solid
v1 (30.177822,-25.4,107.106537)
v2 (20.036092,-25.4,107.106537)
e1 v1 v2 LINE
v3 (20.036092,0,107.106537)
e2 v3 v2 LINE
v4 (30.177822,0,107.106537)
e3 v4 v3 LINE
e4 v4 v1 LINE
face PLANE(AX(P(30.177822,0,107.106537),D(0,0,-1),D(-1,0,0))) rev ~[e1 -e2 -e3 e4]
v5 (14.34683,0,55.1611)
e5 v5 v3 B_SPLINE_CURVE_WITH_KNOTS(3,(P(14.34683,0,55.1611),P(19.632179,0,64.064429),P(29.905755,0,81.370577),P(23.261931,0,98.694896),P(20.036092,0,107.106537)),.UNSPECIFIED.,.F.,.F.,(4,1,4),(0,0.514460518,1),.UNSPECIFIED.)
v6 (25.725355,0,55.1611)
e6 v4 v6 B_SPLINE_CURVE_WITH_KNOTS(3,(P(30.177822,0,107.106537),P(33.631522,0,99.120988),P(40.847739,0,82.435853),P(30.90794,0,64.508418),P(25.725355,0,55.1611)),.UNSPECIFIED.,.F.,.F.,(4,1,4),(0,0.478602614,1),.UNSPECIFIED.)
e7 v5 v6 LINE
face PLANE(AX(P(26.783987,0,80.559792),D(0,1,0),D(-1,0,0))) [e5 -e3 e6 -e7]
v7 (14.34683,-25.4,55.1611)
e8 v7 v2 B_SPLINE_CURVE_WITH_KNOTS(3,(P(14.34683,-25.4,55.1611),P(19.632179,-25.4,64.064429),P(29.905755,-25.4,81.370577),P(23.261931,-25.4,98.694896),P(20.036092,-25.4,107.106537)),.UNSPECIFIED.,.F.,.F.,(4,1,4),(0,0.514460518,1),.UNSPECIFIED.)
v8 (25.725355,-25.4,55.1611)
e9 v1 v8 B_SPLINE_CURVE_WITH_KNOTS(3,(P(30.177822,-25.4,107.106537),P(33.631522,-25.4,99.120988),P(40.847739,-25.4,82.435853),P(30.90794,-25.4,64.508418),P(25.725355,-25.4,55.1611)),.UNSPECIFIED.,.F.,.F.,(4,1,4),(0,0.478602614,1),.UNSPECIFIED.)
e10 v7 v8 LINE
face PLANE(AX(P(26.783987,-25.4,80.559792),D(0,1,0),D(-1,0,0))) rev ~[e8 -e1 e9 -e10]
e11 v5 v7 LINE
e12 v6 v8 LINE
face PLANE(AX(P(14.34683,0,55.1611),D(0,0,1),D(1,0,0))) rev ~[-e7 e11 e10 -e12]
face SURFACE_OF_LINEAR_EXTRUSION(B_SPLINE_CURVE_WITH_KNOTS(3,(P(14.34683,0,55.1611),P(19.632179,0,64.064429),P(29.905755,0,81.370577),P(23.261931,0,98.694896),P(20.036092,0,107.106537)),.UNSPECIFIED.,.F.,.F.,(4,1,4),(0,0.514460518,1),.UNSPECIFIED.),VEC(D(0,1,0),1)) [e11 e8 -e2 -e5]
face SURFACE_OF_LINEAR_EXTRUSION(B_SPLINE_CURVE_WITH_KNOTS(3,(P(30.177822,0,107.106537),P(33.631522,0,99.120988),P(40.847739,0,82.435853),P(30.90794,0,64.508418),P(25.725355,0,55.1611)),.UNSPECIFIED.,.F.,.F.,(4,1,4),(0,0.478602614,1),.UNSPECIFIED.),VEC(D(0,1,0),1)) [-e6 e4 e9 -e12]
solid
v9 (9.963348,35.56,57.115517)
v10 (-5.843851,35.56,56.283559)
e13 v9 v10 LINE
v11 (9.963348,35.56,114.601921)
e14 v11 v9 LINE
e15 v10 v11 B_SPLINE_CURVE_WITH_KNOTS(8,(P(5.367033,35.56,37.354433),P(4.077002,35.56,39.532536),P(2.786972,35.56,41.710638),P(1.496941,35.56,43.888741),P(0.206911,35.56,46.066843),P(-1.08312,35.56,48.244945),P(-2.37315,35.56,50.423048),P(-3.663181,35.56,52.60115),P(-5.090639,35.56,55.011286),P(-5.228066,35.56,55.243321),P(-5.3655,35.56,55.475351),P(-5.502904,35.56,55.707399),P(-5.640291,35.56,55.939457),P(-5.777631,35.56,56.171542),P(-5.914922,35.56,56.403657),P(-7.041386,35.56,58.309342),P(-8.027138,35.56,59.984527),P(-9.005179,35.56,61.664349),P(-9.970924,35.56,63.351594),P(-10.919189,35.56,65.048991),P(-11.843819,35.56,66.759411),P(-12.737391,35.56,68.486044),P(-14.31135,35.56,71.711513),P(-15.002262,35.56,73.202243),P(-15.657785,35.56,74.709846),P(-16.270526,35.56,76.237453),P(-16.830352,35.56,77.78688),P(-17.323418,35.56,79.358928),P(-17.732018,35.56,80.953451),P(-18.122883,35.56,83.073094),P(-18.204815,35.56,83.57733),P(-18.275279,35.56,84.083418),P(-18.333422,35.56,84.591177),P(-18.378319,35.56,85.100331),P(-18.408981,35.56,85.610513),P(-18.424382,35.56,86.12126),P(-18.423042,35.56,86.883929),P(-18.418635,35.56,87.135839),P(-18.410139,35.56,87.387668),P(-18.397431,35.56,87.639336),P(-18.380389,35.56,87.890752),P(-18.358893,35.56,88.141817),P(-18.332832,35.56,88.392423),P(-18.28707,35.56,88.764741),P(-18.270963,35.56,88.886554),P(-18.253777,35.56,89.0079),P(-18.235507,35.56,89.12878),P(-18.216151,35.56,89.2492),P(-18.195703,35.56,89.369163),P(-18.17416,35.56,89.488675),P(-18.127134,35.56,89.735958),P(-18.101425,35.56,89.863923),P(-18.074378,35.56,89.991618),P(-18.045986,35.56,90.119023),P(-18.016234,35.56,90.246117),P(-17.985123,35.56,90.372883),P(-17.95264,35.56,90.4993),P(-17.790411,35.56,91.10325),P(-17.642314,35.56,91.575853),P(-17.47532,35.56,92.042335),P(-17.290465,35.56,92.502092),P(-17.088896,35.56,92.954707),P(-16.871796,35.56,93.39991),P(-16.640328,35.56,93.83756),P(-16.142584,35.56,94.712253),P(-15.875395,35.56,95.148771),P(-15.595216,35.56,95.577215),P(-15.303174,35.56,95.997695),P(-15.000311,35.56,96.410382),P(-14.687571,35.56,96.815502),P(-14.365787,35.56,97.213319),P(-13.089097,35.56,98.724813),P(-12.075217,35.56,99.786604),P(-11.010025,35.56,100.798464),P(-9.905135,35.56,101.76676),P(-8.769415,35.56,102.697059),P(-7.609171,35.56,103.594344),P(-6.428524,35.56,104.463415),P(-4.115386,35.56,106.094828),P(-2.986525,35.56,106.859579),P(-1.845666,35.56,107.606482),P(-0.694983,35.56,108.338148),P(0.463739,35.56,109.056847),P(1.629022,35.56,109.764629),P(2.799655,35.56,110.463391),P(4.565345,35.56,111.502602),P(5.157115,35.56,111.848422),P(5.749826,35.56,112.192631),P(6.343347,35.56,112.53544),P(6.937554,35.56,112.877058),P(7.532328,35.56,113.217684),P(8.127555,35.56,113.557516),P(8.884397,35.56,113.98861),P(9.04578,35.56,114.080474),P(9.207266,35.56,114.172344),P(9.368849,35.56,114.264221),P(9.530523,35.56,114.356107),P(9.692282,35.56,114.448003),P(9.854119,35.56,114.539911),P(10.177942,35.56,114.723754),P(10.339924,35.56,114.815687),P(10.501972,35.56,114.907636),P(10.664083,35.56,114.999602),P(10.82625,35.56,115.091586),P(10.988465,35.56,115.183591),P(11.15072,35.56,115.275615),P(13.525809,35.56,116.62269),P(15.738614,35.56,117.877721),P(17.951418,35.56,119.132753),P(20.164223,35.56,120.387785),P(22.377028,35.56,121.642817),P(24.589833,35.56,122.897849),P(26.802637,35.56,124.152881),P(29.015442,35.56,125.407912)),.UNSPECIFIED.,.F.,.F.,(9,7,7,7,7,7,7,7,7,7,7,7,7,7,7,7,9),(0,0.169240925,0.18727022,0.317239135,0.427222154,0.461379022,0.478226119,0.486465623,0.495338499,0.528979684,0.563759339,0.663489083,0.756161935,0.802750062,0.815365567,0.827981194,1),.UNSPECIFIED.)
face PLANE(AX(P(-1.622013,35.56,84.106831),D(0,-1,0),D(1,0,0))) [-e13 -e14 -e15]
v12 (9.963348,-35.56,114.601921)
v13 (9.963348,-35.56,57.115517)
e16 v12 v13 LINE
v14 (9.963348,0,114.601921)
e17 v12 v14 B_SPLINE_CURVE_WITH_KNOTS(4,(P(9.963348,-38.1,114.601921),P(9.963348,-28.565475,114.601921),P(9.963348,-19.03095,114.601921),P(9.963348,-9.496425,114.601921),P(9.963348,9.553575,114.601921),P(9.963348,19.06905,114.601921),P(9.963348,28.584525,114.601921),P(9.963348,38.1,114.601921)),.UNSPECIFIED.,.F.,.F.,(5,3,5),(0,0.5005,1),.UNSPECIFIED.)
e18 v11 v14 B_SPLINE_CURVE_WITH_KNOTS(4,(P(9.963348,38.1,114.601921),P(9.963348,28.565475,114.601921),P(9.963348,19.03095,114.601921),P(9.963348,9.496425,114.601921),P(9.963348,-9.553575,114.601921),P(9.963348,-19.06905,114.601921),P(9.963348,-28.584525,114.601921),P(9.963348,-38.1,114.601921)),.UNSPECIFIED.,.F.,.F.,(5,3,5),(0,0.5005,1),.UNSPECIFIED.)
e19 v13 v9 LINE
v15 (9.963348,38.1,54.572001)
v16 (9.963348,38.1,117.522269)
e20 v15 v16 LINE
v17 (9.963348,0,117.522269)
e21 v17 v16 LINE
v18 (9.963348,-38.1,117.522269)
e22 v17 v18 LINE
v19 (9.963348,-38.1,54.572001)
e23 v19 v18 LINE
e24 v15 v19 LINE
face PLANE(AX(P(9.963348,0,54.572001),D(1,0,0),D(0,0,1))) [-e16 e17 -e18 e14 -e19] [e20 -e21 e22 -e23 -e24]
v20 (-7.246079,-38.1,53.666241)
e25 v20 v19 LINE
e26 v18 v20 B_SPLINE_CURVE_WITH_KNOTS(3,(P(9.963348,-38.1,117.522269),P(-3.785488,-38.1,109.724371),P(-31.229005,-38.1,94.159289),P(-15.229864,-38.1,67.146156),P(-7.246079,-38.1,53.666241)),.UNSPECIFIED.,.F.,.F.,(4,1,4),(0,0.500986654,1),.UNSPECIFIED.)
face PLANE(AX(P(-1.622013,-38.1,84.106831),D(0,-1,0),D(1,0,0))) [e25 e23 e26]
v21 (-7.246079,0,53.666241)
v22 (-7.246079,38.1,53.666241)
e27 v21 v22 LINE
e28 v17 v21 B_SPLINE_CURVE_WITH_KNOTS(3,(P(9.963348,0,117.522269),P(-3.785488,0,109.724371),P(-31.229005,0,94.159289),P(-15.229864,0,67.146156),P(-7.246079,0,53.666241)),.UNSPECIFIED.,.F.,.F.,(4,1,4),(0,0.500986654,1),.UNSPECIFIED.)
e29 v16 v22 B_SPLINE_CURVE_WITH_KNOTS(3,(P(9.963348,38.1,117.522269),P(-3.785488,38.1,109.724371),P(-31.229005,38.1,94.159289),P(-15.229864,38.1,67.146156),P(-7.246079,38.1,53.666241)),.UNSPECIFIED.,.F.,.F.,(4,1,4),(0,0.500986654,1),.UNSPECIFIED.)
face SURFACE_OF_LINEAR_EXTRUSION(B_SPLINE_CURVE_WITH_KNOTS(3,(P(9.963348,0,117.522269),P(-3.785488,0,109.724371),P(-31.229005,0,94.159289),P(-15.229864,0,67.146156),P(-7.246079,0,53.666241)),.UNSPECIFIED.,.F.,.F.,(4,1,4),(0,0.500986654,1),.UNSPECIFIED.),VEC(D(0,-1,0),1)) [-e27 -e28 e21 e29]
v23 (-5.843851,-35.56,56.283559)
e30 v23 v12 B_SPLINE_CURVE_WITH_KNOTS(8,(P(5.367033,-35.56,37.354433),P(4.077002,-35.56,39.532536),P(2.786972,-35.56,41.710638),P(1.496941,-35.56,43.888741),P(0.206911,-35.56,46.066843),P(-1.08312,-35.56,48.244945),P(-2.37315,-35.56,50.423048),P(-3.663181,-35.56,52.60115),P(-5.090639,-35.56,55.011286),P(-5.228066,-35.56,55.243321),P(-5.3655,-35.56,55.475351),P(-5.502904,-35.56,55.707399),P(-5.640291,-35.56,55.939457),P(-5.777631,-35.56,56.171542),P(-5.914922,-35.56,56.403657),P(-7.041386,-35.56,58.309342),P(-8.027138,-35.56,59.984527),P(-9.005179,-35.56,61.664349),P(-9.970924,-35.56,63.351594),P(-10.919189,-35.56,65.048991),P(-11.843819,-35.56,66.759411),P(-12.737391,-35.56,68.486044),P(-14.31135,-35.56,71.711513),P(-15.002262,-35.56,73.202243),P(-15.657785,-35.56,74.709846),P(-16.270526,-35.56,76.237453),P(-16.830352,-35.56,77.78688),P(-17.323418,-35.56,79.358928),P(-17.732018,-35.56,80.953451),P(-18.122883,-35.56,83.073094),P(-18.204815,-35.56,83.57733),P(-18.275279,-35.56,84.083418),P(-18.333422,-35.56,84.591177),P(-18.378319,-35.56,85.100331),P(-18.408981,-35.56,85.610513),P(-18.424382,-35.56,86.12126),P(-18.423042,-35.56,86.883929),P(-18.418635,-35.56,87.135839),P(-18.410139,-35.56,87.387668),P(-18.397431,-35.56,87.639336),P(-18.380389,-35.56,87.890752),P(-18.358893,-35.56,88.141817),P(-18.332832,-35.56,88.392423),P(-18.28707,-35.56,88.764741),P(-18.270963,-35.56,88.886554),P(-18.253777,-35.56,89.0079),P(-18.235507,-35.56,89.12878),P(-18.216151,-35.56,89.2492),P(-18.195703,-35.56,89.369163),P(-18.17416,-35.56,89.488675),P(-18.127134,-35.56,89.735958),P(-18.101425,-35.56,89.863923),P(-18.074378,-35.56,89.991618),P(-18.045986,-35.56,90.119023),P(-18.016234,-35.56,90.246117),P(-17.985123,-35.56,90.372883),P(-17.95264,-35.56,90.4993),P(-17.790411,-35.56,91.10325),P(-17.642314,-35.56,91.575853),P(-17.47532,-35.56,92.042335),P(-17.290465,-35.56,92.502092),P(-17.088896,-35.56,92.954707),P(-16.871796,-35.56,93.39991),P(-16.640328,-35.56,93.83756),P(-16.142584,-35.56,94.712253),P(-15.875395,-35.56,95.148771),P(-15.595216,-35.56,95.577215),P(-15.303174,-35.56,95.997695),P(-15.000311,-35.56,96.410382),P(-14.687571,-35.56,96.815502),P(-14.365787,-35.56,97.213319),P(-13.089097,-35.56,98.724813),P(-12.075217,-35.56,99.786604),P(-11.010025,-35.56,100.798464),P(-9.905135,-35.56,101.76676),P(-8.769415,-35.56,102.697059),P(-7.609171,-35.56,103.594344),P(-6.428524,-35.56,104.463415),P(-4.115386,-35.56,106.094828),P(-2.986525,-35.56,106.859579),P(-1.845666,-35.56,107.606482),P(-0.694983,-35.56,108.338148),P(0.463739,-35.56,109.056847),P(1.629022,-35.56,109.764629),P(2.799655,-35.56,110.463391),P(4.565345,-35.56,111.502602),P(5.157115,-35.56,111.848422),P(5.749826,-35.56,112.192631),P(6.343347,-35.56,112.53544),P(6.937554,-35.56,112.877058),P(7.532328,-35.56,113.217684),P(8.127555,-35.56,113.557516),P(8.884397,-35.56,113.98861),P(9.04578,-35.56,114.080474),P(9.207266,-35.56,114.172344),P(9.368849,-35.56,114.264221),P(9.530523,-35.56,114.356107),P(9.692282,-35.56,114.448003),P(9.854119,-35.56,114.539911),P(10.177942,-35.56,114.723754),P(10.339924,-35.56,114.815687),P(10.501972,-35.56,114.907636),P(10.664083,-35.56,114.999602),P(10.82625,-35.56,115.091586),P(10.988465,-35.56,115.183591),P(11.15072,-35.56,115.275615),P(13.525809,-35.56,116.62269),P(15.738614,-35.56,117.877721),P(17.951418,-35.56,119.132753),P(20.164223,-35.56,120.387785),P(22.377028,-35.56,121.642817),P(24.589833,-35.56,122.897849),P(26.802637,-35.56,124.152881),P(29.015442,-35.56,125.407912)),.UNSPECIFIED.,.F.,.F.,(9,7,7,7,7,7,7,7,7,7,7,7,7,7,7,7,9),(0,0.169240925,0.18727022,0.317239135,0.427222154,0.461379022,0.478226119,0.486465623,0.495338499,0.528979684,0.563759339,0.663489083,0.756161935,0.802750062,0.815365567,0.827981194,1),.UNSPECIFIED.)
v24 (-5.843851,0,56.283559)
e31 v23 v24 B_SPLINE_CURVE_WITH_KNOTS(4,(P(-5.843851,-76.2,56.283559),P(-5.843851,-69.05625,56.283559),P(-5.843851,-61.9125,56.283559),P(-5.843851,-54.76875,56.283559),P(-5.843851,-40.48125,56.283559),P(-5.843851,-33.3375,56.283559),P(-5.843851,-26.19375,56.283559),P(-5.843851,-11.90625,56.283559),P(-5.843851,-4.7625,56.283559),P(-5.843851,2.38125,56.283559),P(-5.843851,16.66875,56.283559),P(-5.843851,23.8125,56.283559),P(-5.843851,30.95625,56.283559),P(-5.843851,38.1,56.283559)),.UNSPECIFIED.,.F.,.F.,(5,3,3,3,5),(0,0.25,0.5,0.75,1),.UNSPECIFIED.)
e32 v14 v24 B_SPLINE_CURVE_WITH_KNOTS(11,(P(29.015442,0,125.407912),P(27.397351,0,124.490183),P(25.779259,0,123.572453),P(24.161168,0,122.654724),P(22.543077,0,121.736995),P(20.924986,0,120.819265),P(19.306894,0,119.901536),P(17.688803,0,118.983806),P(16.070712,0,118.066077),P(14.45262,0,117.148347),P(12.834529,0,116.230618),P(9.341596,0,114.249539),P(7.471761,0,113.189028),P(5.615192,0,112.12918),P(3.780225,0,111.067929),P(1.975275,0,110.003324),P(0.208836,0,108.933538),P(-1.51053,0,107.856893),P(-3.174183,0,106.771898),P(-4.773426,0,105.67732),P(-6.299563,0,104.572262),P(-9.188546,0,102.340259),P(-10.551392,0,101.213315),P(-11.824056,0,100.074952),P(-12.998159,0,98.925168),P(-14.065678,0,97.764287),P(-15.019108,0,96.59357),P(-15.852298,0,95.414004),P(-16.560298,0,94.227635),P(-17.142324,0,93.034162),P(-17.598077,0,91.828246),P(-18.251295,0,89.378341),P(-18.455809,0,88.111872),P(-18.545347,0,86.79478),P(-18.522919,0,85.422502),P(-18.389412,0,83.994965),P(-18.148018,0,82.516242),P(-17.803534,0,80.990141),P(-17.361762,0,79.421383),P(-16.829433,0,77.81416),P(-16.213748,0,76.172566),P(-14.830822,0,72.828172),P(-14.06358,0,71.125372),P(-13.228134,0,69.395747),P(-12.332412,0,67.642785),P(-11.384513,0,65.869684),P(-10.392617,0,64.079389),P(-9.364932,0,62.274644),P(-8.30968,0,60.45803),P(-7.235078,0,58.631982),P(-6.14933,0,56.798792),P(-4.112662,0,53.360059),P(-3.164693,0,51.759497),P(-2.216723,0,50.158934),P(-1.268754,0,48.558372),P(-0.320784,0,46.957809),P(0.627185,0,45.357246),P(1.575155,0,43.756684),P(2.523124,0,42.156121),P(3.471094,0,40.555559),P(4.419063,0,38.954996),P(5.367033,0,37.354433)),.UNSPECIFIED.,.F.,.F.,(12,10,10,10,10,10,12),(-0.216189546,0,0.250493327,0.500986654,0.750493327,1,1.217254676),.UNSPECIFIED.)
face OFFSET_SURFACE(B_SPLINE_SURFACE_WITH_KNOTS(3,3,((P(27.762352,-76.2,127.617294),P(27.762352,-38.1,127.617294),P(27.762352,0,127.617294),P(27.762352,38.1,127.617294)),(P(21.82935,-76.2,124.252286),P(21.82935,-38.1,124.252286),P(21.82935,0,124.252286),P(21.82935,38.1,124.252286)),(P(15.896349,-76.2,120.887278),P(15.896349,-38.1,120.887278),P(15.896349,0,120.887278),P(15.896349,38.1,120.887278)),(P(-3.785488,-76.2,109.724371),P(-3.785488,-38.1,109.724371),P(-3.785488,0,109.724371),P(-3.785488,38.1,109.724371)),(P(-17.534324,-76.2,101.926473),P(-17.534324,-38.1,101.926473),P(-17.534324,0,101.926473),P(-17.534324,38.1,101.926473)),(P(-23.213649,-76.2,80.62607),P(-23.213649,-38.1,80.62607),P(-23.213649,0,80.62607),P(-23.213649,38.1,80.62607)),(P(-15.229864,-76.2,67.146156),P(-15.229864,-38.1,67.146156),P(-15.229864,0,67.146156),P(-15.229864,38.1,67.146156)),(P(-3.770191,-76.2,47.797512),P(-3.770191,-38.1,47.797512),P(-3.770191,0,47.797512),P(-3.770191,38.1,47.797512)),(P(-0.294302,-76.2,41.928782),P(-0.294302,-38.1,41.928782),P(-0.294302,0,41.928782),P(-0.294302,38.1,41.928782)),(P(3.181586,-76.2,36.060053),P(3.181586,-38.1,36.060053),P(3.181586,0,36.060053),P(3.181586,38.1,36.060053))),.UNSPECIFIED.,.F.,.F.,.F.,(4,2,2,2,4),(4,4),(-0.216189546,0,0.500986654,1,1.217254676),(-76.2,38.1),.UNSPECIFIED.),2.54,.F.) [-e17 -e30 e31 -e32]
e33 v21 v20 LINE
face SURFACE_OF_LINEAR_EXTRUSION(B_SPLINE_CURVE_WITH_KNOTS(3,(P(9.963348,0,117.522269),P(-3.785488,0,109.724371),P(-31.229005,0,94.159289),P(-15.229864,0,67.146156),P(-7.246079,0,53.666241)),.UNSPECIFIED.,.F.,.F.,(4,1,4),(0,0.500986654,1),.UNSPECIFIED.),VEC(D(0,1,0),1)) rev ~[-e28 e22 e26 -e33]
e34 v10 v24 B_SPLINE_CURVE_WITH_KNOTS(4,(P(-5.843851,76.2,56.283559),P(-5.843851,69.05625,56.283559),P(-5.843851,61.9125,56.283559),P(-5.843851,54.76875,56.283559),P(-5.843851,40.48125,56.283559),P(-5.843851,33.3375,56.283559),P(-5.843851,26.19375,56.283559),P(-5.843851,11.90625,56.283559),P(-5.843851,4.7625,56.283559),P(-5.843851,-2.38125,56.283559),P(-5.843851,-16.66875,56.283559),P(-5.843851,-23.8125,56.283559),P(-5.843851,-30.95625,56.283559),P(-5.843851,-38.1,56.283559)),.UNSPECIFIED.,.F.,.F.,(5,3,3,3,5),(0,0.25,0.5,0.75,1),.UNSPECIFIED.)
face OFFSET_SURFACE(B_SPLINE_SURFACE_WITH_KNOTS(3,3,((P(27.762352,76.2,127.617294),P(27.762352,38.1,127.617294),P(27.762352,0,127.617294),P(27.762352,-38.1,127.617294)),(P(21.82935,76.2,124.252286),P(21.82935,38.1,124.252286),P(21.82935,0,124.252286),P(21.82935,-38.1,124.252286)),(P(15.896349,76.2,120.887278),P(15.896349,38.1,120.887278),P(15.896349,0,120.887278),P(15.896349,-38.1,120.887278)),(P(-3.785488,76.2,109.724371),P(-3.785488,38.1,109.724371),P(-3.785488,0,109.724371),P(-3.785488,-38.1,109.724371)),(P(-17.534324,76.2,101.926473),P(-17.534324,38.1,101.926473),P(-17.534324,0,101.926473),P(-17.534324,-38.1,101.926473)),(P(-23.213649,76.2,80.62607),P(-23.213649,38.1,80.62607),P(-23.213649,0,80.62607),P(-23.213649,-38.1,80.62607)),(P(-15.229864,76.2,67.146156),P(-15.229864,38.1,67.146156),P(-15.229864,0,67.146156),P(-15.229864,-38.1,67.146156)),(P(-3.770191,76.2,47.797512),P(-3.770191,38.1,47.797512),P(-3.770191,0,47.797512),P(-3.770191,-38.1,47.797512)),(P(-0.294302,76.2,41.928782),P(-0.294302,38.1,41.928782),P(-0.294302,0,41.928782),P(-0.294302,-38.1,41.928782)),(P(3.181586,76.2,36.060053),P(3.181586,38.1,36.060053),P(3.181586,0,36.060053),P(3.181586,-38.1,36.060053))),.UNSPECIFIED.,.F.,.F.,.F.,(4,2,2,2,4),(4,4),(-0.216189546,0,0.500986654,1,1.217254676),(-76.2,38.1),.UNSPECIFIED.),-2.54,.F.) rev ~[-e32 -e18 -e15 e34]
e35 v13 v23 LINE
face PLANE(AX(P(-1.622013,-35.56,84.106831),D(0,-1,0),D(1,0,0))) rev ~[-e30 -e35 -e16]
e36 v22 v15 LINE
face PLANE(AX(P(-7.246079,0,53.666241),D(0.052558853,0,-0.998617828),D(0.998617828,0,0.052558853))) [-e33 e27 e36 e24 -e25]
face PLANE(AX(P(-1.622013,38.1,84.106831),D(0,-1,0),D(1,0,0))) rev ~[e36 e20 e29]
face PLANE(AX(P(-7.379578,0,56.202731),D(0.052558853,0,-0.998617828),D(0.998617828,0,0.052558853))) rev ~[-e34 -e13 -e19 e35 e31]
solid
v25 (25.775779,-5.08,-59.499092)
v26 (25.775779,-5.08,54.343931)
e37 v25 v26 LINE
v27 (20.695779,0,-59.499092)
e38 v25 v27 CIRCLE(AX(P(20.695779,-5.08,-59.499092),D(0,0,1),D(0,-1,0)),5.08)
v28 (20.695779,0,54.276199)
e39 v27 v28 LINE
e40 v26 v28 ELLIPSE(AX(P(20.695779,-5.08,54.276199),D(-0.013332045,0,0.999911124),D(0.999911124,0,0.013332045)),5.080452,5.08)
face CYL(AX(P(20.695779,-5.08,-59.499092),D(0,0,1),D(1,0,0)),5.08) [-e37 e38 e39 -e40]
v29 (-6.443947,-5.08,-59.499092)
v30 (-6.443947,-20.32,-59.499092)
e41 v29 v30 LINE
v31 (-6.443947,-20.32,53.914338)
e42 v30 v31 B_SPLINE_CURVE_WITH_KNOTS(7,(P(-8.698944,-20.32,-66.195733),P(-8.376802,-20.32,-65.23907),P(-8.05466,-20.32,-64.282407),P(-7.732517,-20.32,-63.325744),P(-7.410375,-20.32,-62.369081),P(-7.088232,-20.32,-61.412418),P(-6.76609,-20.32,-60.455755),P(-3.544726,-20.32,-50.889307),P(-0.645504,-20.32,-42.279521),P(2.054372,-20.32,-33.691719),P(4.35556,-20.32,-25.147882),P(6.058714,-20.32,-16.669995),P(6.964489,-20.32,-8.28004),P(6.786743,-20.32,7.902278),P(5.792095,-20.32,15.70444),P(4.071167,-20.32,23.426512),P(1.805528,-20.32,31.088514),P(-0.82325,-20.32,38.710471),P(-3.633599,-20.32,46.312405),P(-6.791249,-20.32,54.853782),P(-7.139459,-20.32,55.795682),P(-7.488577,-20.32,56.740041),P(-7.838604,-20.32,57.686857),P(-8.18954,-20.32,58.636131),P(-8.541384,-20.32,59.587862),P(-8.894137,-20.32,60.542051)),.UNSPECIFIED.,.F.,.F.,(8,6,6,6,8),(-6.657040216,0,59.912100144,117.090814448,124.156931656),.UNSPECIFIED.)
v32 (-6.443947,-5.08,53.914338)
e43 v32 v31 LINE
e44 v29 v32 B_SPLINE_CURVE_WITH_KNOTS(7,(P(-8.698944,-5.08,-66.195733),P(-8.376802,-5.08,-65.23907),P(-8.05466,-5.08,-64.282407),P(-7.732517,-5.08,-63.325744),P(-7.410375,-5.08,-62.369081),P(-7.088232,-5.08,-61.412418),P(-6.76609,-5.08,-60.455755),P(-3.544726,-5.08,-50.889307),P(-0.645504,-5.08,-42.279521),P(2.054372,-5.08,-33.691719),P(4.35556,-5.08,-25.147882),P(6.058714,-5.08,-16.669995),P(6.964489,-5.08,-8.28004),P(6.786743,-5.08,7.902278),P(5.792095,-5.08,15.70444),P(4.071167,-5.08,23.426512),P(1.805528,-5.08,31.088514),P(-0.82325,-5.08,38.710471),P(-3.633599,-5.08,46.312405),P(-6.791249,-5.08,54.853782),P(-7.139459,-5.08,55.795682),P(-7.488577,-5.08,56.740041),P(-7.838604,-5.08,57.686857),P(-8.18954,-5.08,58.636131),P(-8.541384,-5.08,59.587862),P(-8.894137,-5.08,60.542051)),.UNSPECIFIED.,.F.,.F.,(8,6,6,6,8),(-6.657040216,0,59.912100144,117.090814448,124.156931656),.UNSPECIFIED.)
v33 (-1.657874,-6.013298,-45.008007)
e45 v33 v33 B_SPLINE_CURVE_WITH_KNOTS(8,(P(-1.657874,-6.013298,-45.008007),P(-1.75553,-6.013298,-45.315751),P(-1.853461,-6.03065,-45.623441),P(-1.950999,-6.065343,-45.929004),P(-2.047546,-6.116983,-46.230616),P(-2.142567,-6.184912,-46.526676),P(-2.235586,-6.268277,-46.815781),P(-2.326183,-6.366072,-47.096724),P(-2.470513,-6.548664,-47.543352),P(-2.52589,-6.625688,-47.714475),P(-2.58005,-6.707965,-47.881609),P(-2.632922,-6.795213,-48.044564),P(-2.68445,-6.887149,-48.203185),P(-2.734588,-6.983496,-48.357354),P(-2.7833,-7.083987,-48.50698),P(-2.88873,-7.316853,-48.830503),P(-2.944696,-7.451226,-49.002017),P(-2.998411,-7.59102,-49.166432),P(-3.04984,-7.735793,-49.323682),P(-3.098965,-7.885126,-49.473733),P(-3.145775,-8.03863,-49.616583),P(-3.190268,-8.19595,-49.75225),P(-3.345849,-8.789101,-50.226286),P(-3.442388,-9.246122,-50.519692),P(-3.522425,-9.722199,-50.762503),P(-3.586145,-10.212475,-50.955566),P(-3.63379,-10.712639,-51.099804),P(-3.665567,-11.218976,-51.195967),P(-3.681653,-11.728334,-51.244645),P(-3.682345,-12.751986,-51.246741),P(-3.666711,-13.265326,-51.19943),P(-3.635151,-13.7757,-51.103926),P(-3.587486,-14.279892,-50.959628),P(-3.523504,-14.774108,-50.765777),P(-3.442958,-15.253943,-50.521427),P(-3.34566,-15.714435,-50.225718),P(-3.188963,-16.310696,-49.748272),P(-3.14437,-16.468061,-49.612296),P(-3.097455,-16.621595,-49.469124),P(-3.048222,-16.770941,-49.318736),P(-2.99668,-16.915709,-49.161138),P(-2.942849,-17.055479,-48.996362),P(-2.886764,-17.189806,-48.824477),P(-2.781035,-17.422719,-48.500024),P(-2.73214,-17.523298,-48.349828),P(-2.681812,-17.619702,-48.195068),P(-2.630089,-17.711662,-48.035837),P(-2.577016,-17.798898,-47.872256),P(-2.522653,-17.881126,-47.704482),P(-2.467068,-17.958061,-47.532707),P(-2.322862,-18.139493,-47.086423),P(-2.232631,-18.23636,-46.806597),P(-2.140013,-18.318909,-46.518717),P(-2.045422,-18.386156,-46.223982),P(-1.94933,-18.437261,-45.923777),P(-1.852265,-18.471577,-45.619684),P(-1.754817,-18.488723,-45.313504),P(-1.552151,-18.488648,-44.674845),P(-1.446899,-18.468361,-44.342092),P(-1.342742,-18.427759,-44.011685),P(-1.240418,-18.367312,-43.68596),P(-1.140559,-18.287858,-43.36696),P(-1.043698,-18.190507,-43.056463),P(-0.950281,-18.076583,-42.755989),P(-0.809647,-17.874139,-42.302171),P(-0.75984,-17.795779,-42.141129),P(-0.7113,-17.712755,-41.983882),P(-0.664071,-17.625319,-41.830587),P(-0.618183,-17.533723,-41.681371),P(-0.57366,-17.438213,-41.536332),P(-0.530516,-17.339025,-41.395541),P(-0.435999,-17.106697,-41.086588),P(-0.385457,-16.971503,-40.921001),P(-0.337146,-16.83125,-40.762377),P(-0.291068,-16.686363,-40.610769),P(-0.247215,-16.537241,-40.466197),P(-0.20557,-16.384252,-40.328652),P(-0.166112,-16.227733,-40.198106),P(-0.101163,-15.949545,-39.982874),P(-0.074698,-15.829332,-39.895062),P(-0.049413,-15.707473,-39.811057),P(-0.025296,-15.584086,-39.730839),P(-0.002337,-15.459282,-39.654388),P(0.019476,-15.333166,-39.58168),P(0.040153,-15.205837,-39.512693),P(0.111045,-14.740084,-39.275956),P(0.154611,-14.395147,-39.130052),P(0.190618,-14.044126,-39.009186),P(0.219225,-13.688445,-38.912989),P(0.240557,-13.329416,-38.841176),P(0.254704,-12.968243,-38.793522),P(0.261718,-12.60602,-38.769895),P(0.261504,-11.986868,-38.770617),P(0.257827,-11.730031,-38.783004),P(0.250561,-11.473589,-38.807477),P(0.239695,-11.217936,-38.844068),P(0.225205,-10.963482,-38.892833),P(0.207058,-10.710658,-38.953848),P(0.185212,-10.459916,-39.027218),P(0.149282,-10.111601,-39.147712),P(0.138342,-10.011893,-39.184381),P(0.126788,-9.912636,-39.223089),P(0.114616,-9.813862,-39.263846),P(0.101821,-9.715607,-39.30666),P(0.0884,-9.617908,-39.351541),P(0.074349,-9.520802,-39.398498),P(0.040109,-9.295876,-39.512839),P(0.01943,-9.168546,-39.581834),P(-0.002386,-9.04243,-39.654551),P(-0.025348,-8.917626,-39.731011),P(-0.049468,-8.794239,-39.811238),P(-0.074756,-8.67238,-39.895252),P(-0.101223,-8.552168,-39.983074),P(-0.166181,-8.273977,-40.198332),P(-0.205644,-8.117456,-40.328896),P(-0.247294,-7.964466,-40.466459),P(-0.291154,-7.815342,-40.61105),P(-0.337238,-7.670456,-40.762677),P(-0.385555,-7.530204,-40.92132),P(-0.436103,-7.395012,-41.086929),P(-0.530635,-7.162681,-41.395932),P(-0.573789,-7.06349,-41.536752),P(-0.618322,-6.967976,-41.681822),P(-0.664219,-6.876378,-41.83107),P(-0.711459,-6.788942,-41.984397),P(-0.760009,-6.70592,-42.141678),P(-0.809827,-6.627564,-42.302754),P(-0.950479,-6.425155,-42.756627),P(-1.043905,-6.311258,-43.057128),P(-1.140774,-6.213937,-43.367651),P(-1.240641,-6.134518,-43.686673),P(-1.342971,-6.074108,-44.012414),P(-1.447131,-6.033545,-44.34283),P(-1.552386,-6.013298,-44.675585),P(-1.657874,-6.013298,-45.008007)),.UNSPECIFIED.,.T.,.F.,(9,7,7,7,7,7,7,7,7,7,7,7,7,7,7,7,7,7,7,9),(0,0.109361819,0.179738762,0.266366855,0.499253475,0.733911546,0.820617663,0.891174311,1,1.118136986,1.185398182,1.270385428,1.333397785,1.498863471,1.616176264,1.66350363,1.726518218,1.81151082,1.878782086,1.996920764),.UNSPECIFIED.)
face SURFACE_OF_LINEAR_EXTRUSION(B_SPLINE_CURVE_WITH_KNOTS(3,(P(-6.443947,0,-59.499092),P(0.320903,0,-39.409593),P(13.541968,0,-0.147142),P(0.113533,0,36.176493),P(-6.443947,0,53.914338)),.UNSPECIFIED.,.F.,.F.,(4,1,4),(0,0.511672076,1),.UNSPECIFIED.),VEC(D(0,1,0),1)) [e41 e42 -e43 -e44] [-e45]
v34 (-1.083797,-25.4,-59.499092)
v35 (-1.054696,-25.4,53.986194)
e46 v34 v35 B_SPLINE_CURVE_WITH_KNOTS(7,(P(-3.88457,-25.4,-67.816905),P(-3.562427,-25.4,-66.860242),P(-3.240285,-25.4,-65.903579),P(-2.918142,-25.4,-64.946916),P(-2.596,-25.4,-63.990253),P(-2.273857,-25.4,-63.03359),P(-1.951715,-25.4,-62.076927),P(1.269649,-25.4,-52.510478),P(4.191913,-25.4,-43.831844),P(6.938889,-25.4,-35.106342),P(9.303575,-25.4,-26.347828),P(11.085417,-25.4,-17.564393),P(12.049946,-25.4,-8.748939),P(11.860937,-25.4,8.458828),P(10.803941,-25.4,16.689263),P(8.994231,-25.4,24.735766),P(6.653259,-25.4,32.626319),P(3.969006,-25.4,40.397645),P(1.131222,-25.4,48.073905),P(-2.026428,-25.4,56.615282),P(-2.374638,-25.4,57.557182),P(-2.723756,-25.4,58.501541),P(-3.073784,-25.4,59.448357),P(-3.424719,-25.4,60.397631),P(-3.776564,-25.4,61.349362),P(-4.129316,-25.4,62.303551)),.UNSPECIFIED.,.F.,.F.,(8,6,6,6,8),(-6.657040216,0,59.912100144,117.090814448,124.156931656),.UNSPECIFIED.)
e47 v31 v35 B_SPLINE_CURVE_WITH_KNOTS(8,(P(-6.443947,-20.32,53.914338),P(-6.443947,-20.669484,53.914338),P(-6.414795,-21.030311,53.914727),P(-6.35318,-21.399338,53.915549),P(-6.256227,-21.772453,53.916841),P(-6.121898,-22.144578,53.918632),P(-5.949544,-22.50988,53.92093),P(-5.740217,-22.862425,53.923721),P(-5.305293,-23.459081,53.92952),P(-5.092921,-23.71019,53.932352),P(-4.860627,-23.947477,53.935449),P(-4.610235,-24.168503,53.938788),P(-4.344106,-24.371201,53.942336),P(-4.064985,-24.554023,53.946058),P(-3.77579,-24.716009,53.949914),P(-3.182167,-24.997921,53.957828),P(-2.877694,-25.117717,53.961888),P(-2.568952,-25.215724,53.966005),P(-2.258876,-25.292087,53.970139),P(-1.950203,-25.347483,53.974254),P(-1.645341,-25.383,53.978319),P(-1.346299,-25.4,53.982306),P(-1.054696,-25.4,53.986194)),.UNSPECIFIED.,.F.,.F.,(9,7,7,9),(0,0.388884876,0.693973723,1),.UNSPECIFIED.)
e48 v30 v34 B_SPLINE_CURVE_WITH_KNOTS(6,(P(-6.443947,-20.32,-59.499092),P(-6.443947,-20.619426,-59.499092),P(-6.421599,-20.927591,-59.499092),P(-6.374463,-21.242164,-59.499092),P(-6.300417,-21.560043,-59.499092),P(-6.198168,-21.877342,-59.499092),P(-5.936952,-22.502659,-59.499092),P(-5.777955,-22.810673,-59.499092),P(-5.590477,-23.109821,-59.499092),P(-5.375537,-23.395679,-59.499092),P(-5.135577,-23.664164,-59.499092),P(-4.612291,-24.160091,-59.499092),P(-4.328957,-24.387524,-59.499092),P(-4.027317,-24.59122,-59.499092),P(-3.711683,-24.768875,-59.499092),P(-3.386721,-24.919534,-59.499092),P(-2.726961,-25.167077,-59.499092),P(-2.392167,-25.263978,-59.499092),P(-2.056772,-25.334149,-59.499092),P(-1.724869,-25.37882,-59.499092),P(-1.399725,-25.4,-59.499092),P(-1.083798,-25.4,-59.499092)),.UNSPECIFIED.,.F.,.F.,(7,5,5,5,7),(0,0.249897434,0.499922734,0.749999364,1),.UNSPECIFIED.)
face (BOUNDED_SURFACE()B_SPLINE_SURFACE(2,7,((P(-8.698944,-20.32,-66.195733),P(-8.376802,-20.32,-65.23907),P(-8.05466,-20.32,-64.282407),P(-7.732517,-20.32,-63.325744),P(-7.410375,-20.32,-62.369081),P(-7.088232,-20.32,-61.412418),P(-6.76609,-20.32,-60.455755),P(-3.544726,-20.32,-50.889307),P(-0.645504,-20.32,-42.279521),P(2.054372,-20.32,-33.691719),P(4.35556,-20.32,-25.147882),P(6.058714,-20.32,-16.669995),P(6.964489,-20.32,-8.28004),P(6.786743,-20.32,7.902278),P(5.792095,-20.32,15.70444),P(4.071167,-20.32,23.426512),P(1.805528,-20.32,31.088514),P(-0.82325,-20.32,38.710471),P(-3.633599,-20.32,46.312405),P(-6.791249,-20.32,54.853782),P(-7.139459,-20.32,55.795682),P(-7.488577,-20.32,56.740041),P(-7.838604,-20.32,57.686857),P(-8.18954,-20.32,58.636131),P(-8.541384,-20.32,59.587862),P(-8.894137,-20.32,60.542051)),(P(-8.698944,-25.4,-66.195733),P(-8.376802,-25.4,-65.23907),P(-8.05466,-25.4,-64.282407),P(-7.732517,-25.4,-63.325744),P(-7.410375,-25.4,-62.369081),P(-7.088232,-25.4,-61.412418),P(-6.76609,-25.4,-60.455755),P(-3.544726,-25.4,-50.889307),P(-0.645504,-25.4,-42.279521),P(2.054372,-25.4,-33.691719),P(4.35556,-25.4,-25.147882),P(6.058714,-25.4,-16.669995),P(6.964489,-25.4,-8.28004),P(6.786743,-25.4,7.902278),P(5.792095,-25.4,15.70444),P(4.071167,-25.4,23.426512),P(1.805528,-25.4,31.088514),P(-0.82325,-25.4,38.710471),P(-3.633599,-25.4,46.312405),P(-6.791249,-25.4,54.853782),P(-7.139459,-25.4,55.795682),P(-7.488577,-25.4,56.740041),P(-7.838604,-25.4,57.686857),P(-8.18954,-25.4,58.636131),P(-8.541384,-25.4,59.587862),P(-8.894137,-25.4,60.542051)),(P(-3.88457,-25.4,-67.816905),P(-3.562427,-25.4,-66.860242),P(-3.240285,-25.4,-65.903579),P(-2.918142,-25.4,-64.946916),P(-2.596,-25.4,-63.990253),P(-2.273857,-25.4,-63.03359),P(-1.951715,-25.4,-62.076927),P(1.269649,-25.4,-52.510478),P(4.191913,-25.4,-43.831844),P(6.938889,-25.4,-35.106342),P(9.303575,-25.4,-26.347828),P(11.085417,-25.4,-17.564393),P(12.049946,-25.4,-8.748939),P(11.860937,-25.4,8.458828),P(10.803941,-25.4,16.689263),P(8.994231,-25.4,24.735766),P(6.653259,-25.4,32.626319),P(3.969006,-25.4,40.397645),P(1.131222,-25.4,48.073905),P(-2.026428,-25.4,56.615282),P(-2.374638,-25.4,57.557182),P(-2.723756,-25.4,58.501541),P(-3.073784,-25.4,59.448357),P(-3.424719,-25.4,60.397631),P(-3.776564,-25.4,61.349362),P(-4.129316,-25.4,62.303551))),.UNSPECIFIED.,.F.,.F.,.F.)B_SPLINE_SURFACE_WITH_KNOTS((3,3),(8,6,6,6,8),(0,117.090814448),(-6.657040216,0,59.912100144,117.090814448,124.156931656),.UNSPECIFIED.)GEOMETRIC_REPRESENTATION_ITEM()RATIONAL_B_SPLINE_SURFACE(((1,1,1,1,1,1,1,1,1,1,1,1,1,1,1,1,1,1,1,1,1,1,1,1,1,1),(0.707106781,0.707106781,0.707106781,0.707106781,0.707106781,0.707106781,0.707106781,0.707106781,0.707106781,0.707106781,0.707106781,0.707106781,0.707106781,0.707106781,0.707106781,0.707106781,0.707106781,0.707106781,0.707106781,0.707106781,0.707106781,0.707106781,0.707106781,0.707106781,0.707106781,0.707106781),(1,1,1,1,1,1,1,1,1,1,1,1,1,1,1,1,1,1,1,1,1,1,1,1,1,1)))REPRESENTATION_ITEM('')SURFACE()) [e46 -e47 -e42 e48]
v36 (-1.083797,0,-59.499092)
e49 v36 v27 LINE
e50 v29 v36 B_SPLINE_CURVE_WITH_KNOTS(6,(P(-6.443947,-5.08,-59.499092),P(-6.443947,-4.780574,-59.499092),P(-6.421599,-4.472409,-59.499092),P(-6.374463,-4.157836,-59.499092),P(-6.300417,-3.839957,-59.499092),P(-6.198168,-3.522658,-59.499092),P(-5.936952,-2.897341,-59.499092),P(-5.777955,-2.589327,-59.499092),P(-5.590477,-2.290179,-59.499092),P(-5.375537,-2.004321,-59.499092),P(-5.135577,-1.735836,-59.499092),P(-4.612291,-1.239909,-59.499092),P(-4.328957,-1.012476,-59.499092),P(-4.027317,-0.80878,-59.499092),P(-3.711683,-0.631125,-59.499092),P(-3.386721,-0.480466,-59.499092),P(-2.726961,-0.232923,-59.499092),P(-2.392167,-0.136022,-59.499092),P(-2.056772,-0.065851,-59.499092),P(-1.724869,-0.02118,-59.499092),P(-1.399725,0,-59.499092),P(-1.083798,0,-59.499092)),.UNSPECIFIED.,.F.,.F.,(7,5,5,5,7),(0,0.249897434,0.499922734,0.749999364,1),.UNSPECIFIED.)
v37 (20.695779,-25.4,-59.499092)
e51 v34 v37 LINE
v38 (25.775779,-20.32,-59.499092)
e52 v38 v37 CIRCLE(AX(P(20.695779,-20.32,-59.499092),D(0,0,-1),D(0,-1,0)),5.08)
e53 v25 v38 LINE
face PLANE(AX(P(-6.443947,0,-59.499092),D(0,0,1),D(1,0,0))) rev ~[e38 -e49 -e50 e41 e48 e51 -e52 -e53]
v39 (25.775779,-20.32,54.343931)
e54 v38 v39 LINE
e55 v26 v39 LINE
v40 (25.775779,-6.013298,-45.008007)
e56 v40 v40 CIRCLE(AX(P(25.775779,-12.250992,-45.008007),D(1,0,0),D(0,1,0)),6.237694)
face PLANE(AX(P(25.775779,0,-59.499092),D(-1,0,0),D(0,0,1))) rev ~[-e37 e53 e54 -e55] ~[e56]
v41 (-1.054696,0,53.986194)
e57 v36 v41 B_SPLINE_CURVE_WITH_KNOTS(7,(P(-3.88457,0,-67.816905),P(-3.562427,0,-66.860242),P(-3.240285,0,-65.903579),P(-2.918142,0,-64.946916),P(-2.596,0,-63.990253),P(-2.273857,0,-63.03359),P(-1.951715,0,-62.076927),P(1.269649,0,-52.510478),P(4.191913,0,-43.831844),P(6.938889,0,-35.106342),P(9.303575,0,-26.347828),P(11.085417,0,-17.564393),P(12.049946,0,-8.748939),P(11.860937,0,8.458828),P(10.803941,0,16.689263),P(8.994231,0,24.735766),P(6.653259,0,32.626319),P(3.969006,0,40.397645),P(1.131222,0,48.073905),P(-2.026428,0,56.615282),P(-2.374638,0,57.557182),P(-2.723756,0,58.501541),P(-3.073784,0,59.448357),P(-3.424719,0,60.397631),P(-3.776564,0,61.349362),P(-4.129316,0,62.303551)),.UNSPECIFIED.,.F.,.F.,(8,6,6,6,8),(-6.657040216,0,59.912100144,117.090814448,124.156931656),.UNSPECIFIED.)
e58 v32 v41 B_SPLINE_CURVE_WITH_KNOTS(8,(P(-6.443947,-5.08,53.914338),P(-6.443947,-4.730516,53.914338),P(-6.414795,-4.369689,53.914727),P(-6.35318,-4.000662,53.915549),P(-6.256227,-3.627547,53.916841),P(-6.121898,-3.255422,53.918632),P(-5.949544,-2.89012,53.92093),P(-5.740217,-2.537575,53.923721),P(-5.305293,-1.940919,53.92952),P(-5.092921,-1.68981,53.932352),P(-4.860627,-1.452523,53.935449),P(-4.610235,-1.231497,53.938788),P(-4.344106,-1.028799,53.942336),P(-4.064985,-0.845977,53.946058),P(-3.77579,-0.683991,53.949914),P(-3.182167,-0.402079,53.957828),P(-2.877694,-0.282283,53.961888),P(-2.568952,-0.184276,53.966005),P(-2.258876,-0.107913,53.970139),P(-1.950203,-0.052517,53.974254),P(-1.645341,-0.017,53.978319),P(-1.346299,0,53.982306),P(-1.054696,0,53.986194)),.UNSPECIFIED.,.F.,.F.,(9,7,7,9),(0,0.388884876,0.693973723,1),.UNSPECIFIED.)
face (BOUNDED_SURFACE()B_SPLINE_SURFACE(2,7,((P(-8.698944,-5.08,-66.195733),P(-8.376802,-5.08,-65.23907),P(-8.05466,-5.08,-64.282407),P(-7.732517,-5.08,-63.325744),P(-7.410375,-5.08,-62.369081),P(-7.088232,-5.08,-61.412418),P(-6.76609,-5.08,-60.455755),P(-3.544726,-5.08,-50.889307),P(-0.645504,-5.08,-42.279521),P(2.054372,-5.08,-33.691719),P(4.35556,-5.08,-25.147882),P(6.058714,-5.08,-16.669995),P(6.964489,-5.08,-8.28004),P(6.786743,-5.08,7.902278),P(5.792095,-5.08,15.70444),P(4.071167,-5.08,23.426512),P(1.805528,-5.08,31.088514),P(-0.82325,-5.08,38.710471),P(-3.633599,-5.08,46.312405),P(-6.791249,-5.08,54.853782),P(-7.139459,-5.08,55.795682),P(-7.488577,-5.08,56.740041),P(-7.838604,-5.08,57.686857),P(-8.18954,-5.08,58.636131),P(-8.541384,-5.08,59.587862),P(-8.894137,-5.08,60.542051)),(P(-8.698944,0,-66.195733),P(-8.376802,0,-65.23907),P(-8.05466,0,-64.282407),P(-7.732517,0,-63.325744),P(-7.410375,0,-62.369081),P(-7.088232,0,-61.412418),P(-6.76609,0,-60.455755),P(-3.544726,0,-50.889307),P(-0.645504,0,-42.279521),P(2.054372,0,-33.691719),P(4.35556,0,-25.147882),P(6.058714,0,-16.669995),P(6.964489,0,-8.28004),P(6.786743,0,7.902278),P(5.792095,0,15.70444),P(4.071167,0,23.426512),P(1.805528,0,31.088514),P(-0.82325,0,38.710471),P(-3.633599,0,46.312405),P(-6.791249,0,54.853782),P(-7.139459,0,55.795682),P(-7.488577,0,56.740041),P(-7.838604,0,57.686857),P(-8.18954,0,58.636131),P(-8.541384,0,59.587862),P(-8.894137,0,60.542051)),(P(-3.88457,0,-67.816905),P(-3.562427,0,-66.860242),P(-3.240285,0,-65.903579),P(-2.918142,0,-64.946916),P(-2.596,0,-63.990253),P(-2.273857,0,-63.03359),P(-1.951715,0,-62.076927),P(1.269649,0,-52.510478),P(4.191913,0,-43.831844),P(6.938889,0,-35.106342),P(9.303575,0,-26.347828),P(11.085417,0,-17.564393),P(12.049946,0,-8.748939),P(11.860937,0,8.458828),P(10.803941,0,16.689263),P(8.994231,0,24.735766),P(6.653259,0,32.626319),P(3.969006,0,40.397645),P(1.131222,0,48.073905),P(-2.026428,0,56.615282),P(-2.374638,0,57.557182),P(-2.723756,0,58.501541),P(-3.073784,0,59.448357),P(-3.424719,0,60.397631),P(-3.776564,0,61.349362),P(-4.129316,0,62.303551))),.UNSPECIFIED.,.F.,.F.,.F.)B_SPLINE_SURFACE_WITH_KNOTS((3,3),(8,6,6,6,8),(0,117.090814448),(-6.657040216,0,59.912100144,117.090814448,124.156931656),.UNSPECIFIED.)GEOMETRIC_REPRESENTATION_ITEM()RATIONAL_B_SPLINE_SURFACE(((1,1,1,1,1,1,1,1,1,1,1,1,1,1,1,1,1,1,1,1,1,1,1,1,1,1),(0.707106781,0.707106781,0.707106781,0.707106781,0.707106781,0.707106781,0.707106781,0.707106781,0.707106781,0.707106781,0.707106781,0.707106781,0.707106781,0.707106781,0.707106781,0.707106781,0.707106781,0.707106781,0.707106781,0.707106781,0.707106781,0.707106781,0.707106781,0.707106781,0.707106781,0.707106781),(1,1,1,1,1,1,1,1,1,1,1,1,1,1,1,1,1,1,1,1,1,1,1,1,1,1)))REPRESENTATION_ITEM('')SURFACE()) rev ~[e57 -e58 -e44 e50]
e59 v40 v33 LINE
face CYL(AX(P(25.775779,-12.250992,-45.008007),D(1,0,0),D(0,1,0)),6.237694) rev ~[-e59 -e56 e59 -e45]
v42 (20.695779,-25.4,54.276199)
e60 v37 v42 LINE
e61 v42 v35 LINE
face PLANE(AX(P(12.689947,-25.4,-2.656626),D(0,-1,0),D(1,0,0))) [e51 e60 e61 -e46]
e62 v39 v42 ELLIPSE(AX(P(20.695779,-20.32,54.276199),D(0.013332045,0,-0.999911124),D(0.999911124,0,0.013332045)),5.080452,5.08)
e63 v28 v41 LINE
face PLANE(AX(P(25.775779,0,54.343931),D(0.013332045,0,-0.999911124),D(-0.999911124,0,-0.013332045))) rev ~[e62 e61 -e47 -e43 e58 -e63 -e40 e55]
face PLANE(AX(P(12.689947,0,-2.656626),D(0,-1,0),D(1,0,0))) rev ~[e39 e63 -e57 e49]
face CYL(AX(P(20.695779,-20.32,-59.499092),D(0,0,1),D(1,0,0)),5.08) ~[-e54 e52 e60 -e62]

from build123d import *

# Parameters (mm, degrees)
F1_DEPTH = 25.4
F3_DEPTH = 38.1
F5_DEPTH = 25.4
F6_T     = -2.54
F7_R     = 6.2376942626
F8_DEPTH = 76.962
F9_R     = 5.08


with BuildPart() as f1:
    # F0 (on Front) → F1 (new body)
    with BuildSketch(Plane.XZ):
        with BuildLine():
            Line((25.7757790387, -59.4990924001), (25.7757790387, 54.3439313769))
            Line((25.7757790387, 54.3439313769), (-6.443947088, 53.9143383503))
            add(Edge.make_bspline(
                [(-6.443947088, -59.4990924001), (0.3209026486, -39.4095928561), (13.5419675651, -0.1471424018), (0.1135326519, 36.1764929279), (-6.443947088, 53.9143383503)],
                knots=[0, 0, 0, 0, 0.5116720763, 1, 1, 1, 1], degree=3))
            Line((-6.443947088, -59.4990924001), (25.7757790387, -59.4990924001))
        make_face()
    extrude(amount=F1_DEPTH)

    # F7 (on face) → F8 (cut)
    with BuildSketch(Plane.YZ.offset(25.7757790387)):
        with Locations((-12.2509924695, -45.008007437)):
            Circle(F7_R)
    extrude(amount=-F8_DEPTH, mode=Mode.SUBTRACT)

    # F9
    f9_edges = [f1.edges().sort_by_distance(p)[0] for p in [
        (25.775779, -25.4, -2.577581),
        (25.775779, 0, -2.577581),
        (6.858147, -25.4, -2.720222),
        (6.858147, 0, -2.720222),
    ]]
    fillet(f9_edges, radius=F9_R)


with BuildPart() as f3:
    # F2 (on Front) → F3 (new body, symmetric)
    with BuildSketch(Plane.XZ):
        with BuildLine():
            Line((-7.2460789233, 53.666241467), (9.9633475766, 54.5720010996))
            Line((9.9633475766, 54.5720010996), (9.9633475766, 117.5222694874))
            add(Edge.make_bspline(
                [(9.9633475766, 117.5222694874), (-3.7854881295, 109.7243710835), (-31.2290050407, 94.1592889709), (-15.2298638868, 67.146155561), (-7.2460789233, 53.666241467)],
                knots=[0, 0, 0, 0, 0.5009866538, 1, 1, 1, 1], degree=3))
        make_face()
    extrude(amount=F3_DEPTH, both=True)

    # F6
    f6_openings = [f3.faces().sort_by_distance(p)[0] for p in [
        (9.963348, 0, 86.047135),
    ]]
    offset(amount=F6_T, openings=f6_openings, kind=Kind.INTERSECTION)


with BuildPart() as f5:
    # F4 (on Front) → F5 (new body)
    with BuildSketch(Plane.XZ):
        with BuildLine():
            add(Edge.make_bspline(
                [(14.3468296155, 55.1610998809), (19.6321787876, 64.0644294014), (29.9057546636, 81.3705767157), (23.2619311282, 98.694895747), (20.0360924937, 107.1065366268)],
                knots=[0, 0, 0, 0, 0.5144605185, 1, 1, 1, 1], degree=3))
            Line((14.3468296155, 55.1610998809), (25.7253553718, 55.1610998809))
            add(Edge.make_bspline(
                [(30.1778223366, 107.1065366268), (33.6315224553, 99.120987607), (40.8477390376, 82.4358530342), (30.9079403999, 64.5084177682), (25.7253553718, 55.1610998809)],
                knots=[0, 0, 0, 0, 0.4786026139, 1, 1, 1, 1], degree=3))
            Line((30.1778223366, 107.1065366268), (20.0360924937, 107.1065366268))
        make_face()
    extrude(amount=F5_DEPTH)


solid = Compound([f1.part, f3.part, f5.part])
